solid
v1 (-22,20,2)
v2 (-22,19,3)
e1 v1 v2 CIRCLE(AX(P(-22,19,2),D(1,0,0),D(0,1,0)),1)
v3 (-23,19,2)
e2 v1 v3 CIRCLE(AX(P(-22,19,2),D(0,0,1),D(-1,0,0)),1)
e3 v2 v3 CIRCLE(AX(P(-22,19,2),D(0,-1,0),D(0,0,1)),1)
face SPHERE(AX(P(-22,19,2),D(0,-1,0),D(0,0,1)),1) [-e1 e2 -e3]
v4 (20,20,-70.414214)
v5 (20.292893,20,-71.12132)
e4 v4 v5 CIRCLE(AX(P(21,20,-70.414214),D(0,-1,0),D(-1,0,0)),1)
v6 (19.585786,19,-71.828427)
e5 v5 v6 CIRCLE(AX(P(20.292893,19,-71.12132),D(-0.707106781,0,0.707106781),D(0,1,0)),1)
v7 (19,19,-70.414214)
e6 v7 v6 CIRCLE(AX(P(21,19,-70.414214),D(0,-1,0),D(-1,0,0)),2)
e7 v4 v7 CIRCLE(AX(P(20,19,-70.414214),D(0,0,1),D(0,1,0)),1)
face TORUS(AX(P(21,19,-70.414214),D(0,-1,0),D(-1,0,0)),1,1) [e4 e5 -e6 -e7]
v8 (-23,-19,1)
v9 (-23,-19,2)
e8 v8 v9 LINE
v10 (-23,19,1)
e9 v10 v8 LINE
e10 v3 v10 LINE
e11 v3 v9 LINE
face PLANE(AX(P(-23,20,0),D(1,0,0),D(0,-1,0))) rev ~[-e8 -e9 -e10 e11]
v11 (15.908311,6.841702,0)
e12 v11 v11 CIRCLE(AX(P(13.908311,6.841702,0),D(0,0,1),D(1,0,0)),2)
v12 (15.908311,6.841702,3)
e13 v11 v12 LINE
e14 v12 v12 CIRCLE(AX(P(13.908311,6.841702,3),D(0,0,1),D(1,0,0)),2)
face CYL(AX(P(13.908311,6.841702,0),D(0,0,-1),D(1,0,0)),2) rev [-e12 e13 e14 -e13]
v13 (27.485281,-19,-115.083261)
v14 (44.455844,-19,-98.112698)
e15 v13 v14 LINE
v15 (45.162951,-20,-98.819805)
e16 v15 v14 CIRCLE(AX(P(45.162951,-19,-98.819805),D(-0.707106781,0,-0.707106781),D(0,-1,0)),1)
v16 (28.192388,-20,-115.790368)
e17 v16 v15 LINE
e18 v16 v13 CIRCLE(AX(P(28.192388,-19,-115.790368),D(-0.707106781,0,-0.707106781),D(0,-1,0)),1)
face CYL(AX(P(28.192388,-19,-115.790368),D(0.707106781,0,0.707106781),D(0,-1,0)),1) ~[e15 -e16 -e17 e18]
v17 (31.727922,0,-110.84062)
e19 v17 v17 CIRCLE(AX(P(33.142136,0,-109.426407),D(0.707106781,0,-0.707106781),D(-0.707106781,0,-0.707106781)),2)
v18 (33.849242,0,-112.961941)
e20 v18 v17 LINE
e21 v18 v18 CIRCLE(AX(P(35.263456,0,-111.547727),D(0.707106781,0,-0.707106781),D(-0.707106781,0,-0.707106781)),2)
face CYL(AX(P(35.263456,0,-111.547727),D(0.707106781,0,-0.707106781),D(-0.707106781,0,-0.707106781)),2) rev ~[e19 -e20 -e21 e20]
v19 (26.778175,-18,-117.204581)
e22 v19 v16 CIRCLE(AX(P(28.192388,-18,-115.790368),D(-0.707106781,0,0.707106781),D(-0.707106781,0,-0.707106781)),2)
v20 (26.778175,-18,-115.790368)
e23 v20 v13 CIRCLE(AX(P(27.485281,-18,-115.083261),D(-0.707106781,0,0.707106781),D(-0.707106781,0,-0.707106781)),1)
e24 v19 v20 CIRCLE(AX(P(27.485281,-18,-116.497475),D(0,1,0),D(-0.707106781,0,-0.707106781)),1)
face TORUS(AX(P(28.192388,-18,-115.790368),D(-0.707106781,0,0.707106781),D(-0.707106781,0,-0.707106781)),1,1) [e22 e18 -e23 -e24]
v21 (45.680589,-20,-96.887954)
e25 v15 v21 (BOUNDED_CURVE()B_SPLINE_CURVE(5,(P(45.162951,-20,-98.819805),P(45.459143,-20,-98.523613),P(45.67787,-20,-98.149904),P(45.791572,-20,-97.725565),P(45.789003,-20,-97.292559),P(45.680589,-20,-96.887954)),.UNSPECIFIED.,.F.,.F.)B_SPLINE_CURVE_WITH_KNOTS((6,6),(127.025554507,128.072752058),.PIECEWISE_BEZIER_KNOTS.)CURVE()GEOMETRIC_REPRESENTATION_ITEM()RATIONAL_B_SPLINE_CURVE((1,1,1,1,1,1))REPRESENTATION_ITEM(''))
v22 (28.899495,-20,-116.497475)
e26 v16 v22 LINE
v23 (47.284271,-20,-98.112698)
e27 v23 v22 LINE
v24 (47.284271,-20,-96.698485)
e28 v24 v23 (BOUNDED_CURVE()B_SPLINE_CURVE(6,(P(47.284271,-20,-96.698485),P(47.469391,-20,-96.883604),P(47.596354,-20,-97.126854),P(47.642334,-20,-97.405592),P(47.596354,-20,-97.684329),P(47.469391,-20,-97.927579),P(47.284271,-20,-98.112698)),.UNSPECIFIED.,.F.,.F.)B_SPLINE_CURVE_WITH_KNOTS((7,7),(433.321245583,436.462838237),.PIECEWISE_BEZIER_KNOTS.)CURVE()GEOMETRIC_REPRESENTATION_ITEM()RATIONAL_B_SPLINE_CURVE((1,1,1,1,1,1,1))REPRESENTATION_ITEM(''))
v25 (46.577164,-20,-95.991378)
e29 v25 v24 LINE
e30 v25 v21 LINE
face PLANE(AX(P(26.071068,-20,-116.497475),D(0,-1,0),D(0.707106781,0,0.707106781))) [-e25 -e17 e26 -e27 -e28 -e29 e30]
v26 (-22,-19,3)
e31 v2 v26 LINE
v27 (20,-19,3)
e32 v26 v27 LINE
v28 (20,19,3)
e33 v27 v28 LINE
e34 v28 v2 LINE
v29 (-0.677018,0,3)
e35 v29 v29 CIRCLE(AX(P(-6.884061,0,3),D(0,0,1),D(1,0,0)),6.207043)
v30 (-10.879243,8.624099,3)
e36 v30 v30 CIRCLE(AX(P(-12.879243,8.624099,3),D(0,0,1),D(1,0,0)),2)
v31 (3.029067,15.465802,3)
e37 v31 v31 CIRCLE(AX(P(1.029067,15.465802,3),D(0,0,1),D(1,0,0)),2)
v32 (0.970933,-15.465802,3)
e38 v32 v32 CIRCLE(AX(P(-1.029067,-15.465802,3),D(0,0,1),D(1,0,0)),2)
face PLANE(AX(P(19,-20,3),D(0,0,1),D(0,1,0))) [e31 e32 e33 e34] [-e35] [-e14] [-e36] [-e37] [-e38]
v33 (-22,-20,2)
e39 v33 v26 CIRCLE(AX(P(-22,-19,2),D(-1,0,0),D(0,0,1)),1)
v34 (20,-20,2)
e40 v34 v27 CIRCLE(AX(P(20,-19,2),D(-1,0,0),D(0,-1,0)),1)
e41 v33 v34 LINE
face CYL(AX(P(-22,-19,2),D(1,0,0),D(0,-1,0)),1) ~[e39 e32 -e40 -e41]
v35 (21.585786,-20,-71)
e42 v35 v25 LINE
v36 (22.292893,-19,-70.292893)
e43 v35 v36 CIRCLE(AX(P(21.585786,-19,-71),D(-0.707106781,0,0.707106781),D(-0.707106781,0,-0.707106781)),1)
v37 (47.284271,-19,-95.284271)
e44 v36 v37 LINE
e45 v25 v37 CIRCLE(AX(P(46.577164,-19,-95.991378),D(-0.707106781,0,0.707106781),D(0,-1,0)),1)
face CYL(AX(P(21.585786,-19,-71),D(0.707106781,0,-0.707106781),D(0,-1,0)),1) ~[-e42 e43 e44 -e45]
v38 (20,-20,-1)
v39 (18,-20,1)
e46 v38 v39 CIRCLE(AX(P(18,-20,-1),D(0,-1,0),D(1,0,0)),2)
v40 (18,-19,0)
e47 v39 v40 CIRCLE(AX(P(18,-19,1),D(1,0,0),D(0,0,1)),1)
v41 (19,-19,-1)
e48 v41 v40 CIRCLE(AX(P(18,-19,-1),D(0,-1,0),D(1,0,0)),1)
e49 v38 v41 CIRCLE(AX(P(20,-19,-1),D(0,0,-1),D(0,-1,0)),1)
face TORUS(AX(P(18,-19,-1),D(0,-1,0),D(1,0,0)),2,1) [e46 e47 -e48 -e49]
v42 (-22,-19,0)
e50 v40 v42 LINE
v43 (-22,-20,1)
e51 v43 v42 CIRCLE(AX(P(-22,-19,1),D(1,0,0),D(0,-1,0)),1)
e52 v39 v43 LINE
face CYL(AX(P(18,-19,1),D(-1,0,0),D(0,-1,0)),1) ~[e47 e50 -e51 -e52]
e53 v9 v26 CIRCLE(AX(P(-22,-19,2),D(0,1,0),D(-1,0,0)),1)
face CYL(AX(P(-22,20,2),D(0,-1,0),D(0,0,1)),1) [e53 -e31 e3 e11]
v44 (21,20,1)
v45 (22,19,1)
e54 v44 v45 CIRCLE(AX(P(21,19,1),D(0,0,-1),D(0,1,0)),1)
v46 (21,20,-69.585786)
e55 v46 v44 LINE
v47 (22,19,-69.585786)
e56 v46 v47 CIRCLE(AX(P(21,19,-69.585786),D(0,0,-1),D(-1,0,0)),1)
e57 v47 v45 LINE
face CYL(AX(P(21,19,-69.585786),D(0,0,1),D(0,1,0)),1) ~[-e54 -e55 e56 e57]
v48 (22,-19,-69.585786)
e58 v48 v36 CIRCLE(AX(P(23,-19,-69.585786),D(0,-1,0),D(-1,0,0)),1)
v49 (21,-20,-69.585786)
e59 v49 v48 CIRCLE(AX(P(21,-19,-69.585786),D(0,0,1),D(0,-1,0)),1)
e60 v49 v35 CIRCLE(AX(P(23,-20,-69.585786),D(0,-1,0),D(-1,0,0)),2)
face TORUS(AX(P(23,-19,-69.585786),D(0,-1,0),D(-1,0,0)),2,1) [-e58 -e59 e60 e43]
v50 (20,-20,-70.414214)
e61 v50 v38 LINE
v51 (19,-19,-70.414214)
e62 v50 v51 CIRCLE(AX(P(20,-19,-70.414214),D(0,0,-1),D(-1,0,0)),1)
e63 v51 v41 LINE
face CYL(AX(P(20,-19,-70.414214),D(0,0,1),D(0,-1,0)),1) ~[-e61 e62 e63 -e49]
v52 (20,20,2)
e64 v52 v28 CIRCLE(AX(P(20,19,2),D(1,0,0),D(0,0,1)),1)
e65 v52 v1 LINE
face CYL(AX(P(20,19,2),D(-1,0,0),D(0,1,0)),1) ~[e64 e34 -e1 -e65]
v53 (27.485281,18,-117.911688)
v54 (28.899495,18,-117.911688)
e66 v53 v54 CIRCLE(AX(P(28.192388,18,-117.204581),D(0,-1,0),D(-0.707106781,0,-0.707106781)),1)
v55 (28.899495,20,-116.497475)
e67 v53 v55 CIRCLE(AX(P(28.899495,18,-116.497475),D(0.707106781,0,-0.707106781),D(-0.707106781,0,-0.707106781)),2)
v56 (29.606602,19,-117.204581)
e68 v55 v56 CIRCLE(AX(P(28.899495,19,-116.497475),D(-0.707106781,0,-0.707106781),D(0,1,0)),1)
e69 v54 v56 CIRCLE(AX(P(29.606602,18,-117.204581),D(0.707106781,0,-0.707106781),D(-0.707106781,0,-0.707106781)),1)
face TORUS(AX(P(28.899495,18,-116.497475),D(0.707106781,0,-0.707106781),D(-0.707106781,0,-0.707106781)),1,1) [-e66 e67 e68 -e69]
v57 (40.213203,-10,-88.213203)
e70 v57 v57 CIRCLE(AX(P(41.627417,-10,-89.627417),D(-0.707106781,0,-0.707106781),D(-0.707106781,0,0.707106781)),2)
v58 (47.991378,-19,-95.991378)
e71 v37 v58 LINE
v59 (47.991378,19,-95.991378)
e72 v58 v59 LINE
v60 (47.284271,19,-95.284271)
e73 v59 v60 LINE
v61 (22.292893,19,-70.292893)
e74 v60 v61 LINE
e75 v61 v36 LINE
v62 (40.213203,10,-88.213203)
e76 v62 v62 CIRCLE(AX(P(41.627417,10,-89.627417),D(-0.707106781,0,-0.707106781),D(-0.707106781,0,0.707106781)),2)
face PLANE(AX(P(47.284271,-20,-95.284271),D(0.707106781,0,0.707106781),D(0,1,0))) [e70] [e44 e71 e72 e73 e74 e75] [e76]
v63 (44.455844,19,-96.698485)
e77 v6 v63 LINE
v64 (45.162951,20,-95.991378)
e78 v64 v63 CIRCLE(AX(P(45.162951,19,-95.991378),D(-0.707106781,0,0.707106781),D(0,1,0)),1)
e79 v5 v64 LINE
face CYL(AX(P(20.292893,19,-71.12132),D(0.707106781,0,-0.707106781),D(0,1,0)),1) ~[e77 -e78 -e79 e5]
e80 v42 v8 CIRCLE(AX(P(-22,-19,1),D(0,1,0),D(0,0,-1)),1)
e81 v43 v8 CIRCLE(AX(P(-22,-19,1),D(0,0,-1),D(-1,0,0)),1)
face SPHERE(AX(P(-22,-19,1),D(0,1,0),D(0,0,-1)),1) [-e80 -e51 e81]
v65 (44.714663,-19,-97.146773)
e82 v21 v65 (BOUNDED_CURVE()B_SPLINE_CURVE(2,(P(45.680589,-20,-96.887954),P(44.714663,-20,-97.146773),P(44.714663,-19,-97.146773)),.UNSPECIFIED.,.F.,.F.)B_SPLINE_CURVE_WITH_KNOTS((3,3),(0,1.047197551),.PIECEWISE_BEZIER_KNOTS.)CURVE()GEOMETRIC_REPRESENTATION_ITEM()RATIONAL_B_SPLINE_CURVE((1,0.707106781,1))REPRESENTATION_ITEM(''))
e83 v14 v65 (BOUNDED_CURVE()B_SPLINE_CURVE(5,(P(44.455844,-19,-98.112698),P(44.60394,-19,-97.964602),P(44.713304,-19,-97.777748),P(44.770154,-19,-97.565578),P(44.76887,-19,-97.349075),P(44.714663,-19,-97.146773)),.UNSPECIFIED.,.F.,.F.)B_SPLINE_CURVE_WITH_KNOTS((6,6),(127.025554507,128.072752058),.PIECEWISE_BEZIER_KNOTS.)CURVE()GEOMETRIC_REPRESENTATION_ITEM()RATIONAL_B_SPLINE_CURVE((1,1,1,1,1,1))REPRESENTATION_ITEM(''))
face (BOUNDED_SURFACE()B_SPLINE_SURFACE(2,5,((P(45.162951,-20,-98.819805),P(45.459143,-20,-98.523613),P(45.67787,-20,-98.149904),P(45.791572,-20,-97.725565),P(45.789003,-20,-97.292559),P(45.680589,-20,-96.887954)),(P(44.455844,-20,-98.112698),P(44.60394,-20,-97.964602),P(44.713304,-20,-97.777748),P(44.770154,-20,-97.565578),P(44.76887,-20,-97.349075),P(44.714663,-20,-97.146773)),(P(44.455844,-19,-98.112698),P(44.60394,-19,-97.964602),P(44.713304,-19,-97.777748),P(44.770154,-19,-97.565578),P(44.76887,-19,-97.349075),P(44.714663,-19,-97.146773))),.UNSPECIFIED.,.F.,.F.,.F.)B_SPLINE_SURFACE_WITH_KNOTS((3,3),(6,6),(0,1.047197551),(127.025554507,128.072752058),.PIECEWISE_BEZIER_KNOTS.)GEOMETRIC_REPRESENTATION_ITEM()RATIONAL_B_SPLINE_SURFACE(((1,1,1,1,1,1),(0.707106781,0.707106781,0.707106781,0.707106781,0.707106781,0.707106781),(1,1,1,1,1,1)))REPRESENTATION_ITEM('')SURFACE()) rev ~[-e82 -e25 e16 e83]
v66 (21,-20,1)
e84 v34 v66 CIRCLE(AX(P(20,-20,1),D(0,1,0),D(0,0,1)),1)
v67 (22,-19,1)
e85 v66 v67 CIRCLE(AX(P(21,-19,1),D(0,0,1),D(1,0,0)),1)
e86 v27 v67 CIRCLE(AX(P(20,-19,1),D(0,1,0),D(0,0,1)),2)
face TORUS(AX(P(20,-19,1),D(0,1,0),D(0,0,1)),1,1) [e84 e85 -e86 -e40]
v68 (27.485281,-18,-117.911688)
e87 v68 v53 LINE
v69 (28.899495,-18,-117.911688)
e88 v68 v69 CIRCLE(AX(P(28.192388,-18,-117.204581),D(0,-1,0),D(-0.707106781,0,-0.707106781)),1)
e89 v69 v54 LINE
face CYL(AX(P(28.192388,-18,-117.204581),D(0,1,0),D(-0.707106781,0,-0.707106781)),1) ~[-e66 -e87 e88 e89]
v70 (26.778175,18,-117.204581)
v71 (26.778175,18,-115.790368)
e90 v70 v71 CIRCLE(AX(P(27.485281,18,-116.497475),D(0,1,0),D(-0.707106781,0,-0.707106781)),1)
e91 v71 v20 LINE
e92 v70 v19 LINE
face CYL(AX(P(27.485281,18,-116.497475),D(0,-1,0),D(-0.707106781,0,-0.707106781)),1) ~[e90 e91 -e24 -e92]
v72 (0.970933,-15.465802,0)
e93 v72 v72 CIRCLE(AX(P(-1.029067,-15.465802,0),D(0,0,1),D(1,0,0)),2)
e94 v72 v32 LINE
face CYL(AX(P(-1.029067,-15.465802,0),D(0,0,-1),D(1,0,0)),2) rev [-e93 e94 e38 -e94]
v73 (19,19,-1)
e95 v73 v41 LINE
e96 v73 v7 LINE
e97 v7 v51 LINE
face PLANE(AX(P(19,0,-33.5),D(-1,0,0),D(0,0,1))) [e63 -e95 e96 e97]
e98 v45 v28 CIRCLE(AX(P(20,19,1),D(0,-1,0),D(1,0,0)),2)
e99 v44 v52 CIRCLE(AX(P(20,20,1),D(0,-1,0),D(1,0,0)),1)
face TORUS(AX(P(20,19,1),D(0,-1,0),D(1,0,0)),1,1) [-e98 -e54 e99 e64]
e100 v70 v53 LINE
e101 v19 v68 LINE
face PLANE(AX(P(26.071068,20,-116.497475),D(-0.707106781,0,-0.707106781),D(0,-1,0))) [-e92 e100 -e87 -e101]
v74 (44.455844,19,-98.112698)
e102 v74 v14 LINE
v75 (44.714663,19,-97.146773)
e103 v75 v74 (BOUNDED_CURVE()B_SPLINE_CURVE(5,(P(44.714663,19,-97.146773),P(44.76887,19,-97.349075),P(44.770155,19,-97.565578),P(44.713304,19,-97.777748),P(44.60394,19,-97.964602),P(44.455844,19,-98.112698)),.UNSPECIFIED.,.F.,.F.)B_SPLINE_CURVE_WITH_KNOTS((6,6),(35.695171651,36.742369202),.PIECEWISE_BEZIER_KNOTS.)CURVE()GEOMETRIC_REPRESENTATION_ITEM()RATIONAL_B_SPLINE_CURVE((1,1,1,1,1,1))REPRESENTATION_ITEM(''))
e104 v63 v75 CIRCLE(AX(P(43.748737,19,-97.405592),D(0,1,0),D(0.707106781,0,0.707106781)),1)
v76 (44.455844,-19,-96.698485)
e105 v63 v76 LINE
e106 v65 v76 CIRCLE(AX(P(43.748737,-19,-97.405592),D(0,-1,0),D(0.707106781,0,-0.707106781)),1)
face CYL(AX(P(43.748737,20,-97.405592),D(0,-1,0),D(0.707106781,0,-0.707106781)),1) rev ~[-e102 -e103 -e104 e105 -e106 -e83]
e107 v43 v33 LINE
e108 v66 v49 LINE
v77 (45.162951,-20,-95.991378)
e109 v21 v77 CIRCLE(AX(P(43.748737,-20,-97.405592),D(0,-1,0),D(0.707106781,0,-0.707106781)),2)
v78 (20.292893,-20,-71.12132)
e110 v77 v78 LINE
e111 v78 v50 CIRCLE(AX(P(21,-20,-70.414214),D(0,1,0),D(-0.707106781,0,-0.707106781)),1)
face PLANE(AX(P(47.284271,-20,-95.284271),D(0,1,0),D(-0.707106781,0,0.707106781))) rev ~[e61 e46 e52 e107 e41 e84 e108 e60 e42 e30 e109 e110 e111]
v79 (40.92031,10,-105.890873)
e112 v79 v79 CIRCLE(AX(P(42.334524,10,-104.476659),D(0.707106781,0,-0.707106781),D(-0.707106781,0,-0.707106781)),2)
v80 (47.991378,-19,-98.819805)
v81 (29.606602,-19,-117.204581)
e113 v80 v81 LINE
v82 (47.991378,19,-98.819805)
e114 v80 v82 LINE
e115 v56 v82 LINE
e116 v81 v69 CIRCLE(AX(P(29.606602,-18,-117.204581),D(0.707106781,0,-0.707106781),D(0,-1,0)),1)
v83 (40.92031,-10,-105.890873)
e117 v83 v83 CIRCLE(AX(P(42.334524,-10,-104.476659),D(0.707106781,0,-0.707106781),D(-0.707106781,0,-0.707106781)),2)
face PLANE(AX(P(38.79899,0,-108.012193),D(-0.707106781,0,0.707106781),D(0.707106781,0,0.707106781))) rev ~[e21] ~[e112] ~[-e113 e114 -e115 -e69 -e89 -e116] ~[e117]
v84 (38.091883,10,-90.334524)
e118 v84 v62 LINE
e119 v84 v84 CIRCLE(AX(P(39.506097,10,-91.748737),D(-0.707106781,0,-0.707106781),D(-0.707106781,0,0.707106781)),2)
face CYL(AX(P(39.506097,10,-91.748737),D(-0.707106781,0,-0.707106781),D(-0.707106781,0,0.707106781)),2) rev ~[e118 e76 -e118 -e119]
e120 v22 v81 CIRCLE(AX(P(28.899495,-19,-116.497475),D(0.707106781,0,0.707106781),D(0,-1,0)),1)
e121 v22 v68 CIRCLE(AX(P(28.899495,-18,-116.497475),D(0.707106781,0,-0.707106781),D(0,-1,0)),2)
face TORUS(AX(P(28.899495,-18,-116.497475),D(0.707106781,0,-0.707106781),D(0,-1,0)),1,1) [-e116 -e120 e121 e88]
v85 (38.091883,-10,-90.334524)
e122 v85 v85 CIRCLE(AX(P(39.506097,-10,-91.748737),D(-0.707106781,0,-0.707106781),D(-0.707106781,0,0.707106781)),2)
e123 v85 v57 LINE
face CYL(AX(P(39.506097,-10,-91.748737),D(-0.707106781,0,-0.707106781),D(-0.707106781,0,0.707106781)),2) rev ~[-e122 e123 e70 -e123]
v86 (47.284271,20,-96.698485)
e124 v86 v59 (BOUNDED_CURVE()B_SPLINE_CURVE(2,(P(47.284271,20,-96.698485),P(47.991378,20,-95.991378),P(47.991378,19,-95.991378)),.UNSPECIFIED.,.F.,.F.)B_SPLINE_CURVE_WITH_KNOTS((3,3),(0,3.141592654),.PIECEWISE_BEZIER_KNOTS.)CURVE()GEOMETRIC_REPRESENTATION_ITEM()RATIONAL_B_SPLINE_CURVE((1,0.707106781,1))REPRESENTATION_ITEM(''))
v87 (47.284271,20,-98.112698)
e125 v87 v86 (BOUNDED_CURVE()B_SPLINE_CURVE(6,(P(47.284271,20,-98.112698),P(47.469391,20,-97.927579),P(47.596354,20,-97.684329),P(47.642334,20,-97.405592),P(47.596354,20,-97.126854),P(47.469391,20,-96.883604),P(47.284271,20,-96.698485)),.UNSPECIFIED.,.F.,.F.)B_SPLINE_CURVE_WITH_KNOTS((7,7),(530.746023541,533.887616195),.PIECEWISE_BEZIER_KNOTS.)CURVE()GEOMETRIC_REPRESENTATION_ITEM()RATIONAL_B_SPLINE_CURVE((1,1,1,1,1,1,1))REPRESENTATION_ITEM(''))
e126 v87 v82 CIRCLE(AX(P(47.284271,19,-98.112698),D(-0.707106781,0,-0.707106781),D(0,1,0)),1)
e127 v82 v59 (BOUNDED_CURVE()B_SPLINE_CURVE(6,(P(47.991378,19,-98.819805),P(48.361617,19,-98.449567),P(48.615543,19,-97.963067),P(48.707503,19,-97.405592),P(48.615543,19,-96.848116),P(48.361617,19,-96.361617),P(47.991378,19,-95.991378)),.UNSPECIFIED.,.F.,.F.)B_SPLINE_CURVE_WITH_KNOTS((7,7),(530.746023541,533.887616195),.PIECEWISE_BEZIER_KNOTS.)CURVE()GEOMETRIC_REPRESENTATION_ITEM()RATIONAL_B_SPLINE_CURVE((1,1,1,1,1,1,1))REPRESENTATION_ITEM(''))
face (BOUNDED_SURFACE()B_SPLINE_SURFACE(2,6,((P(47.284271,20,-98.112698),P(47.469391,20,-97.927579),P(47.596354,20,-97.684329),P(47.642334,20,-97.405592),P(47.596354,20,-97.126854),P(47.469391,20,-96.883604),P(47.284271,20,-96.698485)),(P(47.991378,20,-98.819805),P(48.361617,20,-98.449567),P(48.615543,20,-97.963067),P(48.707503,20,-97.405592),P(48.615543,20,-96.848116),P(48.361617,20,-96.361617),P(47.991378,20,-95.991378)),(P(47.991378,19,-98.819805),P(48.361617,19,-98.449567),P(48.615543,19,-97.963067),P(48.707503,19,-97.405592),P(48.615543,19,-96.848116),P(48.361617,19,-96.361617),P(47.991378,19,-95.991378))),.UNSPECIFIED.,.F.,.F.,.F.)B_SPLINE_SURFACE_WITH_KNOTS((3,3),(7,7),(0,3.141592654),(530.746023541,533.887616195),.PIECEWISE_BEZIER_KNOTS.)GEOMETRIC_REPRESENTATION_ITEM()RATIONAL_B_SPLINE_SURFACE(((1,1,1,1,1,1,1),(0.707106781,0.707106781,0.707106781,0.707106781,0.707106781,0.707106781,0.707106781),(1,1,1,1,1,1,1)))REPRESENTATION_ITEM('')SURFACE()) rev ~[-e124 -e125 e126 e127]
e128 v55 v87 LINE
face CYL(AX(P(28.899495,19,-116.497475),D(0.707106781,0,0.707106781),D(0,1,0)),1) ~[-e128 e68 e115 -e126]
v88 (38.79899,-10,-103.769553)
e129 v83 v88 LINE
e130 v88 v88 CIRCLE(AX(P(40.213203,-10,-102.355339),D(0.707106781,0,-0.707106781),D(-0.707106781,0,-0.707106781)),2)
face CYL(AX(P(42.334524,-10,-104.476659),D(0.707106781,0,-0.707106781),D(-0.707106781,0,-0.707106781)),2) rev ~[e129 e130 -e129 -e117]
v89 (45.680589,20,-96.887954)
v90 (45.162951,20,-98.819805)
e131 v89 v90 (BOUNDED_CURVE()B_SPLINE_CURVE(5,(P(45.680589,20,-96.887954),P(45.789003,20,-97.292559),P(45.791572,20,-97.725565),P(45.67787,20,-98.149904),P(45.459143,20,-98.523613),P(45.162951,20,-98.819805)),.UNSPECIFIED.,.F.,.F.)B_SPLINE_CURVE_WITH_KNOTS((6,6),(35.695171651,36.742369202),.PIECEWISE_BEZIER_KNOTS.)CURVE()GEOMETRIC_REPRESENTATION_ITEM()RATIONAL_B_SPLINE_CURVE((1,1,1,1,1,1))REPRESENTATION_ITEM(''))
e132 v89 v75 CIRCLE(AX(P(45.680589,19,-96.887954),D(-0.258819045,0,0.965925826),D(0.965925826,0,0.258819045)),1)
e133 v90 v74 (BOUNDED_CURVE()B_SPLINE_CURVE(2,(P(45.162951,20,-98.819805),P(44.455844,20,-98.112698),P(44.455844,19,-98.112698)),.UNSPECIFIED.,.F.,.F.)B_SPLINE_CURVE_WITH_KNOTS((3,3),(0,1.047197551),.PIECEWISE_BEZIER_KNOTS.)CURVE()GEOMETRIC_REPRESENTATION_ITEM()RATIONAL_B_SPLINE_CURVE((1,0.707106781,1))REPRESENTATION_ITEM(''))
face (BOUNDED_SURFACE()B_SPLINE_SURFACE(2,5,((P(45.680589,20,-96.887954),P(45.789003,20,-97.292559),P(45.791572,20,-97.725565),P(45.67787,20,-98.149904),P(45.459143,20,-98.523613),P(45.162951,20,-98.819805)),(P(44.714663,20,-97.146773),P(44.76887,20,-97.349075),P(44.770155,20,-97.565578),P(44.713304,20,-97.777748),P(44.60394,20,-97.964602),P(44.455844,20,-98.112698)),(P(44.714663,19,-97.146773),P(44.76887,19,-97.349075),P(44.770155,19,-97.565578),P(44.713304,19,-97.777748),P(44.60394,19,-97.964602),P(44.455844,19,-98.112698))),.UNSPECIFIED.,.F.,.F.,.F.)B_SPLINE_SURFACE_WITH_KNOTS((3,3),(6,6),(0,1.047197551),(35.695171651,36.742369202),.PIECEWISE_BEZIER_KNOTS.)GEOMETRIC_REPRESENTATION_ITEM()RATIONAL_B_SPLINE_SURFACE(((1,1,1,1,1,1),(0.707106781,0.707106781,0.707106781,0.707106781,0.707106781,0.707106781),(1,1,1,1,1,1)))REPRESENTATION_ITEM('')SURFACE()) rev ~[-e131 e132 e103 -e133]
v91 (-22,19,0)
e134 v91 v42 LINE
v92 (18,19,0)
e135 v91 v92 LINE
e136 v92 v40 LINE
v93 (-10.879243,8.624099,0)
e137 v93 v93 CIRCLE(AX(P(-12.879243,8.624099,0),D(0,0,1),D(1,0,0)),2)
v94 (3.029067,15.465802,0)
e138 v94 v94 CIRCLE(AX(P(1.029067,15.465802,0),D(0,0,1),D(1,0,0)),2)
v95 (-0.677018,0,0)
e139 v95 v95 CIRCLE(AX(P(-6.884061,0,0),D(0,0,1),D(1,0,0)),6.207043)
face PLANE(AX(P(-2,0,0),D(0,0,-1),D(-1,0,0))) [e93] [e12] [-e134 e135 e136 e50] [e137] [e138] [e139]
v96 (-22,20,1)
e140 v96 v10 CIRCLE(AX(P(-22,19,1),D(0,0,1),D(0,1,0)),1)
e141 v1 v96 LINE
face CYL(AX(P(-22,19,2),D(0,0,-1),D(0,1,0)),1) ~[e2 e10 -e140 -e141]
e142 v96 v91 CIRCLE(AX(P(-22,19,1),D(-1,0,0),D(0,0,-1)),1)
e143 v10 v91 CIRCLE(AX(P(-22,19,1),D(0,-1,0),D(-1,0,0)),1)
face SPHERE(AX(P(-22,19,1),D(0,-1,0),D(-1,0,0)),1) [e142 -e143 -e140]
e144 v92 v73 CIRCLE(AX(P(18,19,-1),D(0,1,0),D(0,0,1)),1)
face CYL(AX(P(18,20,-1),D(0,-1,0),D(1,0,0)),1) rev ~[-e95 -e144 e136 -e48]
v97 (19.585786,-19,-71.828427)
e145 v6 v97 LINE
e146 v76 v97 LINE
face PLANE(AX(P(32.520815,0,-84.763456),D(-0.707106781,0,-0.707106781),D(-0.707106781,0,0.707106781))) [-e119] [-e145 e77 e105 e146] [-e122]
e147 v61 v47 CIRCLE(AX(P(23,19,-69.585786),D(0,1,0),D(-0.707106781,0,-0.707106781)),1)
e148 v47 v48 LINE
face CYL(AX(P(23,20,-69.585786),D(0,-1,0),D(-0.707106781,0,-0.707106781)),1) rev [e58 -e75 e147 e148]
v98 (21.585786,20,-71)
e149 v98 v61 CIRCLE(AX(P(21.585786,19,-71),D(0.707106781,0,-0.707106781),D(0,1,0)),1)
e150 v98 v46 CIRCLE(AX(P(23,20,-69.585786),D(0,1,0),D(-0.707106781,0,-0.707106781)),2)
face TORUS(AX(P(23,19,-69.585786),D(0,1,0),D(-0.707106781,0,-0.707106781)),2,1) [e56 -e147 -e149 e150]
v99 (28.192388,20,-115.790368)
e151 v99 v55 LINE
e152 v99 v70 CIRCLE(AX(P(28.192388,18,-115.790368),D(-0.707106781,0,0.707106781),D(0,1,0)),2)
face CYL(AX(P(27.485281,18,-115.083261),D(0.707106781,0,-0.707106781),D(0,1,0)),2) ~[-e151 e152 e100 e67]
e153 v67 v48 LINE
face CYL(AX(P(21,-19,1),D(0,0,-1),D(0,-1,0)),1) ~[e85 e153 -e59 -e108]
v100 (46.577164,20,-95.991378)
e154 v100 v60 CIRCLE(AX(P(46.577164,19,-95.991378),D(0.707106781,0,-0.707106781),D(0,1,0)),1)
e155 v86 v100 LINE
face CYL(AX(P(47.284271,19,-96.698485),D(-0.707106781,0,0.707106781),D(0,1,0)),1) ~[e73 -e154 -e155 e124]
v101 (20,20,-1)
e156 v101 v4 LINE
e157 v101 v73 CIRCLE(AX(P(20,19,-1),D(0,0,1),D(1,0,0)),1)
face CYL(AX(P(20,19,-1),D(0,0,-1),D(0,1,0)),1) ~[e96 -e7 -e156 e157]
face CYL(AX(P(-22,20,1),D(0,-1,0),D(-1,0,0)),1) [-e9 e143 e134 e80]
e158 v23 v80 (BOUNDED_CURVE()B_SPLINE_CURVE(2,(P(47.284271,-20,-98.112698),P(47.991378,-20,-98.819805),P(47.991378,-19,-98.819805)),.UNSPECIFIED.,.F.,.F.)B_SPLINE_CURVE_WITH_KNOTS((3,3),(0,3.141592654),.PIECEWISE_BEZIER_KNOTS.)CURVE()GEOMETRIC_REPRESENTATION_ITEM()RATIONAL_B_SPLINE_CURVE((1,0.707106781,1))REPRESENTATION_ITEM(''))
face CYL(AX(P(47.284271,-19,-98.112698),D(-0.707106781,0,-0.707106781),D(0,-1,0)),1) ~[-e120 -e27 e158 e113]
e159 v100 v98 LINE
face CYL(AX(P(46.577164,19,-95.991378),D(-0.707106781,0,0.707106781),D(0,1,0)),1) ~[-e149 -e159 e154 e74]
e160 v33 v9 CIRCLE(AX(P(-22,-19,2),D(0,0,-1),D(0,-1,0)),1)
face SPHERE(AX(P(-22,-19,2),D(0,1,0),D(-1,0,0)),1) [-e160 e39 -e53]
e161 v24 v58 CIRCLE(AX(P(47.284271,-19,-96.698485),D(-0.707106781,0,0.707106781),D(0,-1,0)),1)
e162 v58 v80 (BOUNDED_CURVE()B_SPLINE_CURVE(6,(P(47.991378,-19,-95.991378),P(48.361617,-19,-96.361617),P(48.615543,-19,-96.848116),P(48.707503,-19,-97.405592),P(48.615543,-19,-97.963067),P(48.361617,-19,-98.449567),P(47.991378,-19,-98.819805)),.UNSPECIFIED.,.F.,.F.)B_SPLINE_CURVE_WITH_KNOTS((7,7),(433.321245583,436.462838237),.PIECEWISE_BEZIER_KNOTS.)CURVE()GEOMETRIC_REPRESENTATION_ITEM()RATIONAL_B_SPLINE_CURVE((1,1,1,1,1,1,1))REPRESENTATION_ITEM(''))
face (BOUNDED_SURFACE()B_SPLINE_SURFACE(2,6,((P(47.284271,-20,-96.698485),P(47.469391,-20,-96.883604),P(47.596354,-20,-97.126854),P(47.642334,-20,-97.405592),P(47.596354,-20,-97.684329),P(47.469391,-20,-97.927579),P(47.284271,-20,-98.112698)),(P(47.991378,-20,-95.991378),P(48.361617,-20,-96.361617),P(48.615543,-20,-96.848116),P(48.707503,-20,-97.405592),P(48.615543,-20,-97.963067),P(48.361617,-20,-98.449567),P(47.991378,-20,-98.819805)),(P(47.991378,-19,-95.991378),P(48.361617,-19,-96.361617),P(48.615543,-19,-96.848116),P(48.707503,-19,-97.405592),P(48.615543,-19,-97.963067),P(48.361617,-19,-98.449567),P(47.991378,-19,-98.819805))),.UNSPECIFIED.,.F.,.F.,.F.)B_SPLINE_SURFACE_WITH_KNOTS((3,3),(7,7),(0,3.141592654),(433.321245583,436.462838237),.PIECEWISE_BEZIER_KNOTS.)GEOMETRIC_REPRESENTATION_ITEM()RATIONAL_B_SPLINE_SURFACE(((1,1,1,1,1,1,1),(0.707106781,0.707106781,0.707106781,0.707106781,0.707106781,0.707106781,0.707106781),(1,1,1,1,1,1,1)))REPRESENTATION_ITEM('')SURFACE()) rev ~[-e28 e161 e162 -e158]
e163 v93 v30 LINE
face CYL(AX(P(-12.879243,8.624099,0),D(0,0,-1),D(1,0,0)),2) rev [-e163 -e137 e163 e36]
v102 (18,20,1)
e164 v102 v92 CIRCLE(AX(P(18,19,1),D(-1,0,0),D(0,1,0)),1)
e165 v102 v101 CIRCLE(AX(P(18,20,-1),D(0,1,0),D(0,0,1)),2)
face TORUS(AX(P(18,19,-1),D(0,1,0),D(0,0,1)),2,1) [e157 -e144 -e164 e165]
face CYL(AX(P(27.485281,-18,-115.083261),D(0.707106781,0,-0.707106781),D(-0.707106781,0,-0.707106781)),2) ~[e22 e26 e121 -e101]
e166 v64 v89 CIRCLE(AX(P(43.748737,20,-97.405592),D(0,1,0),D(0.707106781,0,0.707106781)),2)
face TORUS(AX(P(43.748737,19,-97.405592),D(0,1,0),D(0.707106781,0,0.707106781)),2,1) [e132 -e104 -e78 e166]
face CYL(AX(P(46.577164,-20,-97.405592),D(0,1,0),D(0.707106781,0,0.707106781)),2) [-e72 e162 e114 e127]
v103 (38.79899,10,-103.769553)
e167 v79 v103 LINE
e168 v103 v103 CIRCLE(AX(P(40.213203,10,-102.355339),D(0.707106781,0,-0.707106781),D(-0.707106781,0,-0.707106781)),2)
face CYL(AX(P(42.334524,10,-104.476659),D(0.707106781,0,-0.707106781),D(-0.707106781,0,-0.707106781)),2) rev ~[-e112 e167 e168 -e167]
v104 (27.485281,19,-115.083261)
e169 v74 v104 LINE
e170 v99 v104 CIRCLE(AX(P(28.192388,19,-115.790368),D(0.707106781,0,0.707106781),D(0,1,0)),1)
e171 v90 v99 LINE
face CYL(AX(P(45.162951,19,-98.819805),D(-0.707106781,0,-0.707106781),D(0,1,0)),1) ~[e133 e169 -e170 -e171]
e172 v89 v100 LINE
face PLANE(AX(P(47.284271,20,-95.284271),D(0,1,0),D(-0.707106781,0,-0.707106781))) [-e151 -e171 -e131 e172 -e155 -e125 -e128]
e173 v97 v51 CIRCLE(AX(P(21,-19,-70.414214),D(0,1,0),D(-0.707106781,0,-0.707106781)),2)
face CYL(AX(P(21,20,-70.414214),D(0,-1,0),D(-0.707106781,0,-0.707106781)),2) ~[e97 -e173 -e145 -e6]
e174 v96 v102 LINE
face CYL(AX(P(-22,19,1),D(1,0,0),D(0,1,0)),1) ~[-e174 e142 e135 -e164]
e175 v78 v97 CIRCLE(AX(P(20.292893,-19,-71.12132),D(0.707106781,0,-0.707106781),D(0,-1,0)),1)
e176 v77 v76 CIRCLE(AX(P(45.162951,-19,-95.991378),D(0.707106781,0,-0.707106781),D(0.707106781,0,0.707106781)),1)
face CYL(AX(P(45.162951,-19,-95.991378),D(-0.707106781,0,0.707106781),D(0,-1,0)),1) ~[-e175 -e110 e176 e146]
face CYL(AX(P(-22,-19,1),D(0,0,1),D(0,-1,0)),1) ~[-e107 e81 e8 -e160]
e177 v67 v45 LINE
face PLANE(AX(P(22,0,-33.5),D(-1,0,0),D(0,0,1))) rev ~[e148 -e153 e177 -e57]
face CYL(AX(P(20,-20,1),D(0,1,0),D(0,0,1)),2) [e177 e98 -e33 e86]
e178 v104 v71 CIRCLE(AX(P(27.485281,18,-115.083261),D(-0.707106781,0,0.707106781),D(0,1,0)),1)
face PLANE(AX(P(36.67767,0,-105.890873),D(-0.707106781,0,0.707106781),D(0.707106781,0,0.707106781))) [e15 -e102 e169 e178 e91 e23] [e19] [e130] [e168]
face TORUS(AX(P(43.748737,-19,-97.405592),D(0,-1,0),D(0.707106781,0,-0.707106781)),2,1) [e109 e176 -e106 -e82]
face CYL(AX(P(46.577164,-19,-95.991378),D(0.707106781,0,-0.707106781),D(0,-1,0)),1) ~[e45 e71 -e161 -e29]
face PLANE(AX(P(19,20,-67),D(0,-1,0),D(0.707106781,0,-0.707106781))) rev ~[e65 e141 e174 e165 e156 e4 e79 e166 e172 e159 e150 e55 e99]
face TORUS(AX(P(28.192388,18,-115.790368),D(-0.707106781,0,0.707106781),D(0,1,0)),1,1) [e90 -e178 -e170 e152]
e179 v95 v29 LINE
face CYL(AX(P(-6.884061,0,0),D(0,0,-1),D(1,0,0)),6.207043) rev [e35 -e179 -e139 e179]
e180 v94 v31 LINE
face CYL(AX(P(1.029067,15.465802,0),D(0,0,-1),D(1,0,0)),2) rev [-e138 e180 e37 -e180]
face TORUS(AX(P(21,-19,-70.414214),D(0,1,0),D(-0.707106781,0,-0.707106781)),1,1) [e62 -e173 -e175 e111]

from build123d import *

# Parameters (mm, degrees)
FIXEDMOTOR_R        = 6.207042780583919
FIXEDMOTOR_R_2      = 2.0000000000000004
FIXEDMOTOR_R_3      = 2
FIXEDMOTOR_R_4      = 1.9999999999999996
FIXEDMOTOR_R_5      = 2.0000000000000013
BOSS_EXTRUDE1_DEPTH = 3
BOSS_EXTRUDE2_DEPTH = 3
FILLET2_R           = 1
FILLET3_R           = 2
FILLET4_R           = 1
FILLET5_R           = 1
CUT_EXTRUDE1_DEPTH  = 40
BOSS_EXTRUDE3_DEPTH = 3
CUT_EXTRUDE2_DEPTH  = 40
FILLET6_R           = 2
FILLET7_R           = 1
BOSS_EXTRUDE4_DEPTH = 3
FILLET8_R           = 2
FILLET9_R           = 1
SKETCH9_R           = 2.000000000000003
SKETCH9_R_2         = 2.0000000000000027
CUT_EXTRUDE3_DEPTH  = 3
FILLET10_R          = 2
FILLET11_R          = 2
FILLET15_R          = 1
SKETCH11_R          = 1.9999999999999962
CUT_EXTRUDE4_DEPTH  = 3


with BuildPart() as part:
    # FixedMotor → Boss-Extrude1 (new body)
    with BuildSketch(Plane.XY):
        Polygon((19.000000000955392, 19.999999999092385), (18.99999999904462, -20.000000000907605), (-23.000000000955385, -19.999999998901302), (-23, 1.09869677e-09), (-22.99999999904461, 20.000000001098698), align=None)
        with Locations((-6.884060715651985, 3.2884703e-10)):
            Circle(FIXEDMOTOR_R, mode=Mode.SUBTRACT)
        with Locations((-1.0290674932644954, -15.465801631157241)):
            Circle(FIXEDMOTOR_R_2, mode=Mode.SUBTRACT)
        with Locations((-12.879243355840744, 8.624099406954452)):
            Circle(FIXEDMOTOR_R_3, mode=Mode.SUBTRACT)
        with Locations((13.908310849105225, 6.841702224202803)):
            Circle(FIXEDMOTOR_R_4, mode=Mode.SUBTRACT)
        with Locations((1.0290674932644954, 15.465801631157241)):
            Circle(FIXEDMOTOR_R_5, mode=Mode.SUBTRACT)
    extrude(amount=BOSS_EXTRUDE1_DEPTH)

    # Sketch2 → Boss-Extrude2 (add)
    with BuildSketch(Plane(origin=(19.000000000000007, -9.0761747e-10, 0), x_dir=(0, 0, -1), z_dir=(1.0, -4.776925383032094e-11, 0))):
        Polygon((0, 20), (70, 20), (70, -19.999999999999993), (0, -19.99999999999999), (-3, -19.99999999999999), (-3, 20), align=None)
    extrude(amount=BOSS_EXTRUDE2_DEPTH)

    # Fillet2
    fillet2_edges = [part.edges().sort_by_distance(p)[0] for p in [
        (19.000000000000007, -9.0760821e-10, 0),
    ]]
    fillet(fillet2_edges, radius=FILLET2_R)

    # Fillet3
    fillet3_edges = [part.edges().sort_by_distance(p)[0] for p in [
        (22.000000000000007, -1.05092168e-09, 3),
    ]]
    fillet(fillet3_edges, radius=FILLET3_R)

    # Fillet4
    fillet4_edges = [part.edges().sort_by_distance(p)[0] for p in [
        (-23, 1.09869802e-09, 3),
    ]]
    fillet(fillet4_edges, radius=FILLET4_R)

    # Fillet5
    fillet5_edges = [part.edges().sort_by_distance(p)[0] for p in [
        (-23, 1.09869802e-09, 0),
    ]]
    fillet(fillet5_edges, radius=FILLET5_R)

    # Sketch5 → Cut-Extrude1 (cut)
    with BuildSketch(Plane.XZ.offset(19.999999999999993)):
        Polygon((22.000000000000004, -70), (19.000000000000004, -67), (19.000000000000004, -70), align=None)
    extrude(amount=-CUT_EXTRUDE1_DEPTH, mode=Mode.SUBTRACT)

    # Sketch6 → Boss-Extrude3 (add)
    with BuildSketch(Plane(origin=(-23.99999999999999, 1.14645595e-09, -23.999999999999964), x_dir=(-0.7071067811865471, 3.377778224099027e-11, 0.7071067811865479), z_dir=(-0.7071067811865479, 3.3777782240990306e-11, -0.7071067811865471))):
        Polygon((-65.05382386916239, -19.999999999999993), (-65.05382386916239, 20.000000000000007), (-100.8111831820431, 20.000000000000007), (-100.8111831820431, -20.000000000000004), align=None)
        Polygon((-65.05382386916239, 20.00000000000001), (-65.05382386916239, -19.99999999999999), (-60.81118318204311, -20), (-60.81118318204311, 20.000000000000007), align=None)
    extrude(amount=BOSS_EXTRUDE3_DEPTH)

    # Sketch7 → Cut-Extrude2 (cut)
    with BuildSketch(Plane(origin=(9.5538656e-10, 20.000000000000004, 0), x_dir=(1.0, -4.776932817561277e-11, 0), z_dir=(4.776932817561277e-11, 1.0, 0))):
        Polygon((18.999999999999996, 67), (18.999999999999996, 71.2426406871193), (16.878679656440344, 69.12132034355965), align=None)
    extrude(amount=-CUT_EXTRUDE2_DEPTH, mode=Mode.SUBTRACT)

    # Fillet6
    fillet6_edges = [part.edges().sort_by_distance(p)[0] for p in [
        (18.999999999999996, -9.0761532e-10, -71.2426406871193),
    ]]
    fillet(fillet6_edges, radius=FILLET6_R)

    # Fillet7
    fillet7_edges = [part.edges().sort_by_distance(p)[0] for p in [
        (22.000000000000007, -1.05092168e-09, -70),
    ]]
    fillet(fillet7_edges, radius=FILLET7_R)

    # Sketch8 → Boss-Extrude4 (add)
    with BuildSketch(Plane(origin=(71.28427124746187, -3.40515935e-09, -71.28427124746194), x_dir=(-0.7071067811865479, -3.3777595325221335e-11, -0.7071067811865471), z_dir=(0.7071067811865471, -3.377759532522137e-11, -0.7071067811865479))):
        Polygon((33.94112549560315, 20.0000000022929), (63.94112549560316, 20.0000000022929), (63.94112549560316, -19.99999999770711), (33.94112549830536, -19.99999999770711), align=None)
    extrude(amount=BOSS_EXTRUDE4_DEPTH)

    # Fillet8
    fillet8_edges = [part.edges().sort_by_distance(p)[0] for p in [
        (49.40559159102152, -2.3600452e-09, -97.40559159102156),
    ]]
    fillet(fillet8_edges, radius=FILLET8_R)

    # Fillet9
    fillet9_edges = [part.edges().sort_by_distance(p)[0] for p in [
        (45.16295090390224, -2.15738535e-09, -97.40559159102155),
    ]]
    fillet(fillet9_edges, radius=FILLET9_R)

    # Sketch9 → Cut-Extrude3 (cut)
    with BuildSketch(Plane(origin=(73.40559159102153, -3.50649214e-09, -73.4055915910216), x_dir=(-0.7071067811865479, -3.3777840652168006e-11, -0.7071067811865472), z_dir=(0.7071067811865472, -3.377784065216806e-11, -0.7071067811865479))):
        with Locations((53.94112549560317, 0)):
            Circle(SKETCH9_R)
        with Locations((43.94112549560317, 10)):
            Circle(SKETCH9_R_2)
        with Locations((43.94112549560317, -10)):
            Circle(SKETCH9_R_2)
    extrude(amount=-CUT_EXTRUDE3_DEPTH, mode=Mode.SUBTRACT)

    # Fillet10
    fillet10_edges = [part.edges().sort_by_distance(p)[0] for p in [
        (27.131727984600627, 19.9999999966773, -117.55813485483814),
    ]]
    fillet(fillet10_edges, radius=FILLET10_R)

    # Fillet11
    fillet11_edges = [part.edges().sort_by_distance(p)[0] for p in [
        (27.131727984600627, -20.00000000332271, -117.55813485292741),
    ]]
    fillet(fillet11_edges, radius=FILLET11_R)

    # Fillet15
    fillet15_edges = [part.edges().sort_by_distance(p)[0] for p in [
        (32.02081528112668, 19.999999998470404, -84.2634559672906),
        (32.02081527921592, -20.000000001529603, -84.2634559672906),
        (19.00000000095539, 19.99999999909238, -35.70710678118655),
        (19.15224093593281, 19.999999999085112, -71.17958042710328),
        (19.152240934022036, -20.000000000914874, -71.17958042710328),
        (22.000000000955392, 19.999999998949075, -34.292893218813454),
        (34.78858223218229, -20.000000001661814, -82.78858223313767),
        (34.788582234093056, 19.999999998338193, -82.78858223313767),
        (22.076120468444106, 19.99999999894544, -69.96846986999199),
        (22.076120466533336, -20.00000000105455, -69.968469869992),
        (38.79898987322329, -20.000000002866717, -108.01219330786441),
        (48.57716446531997, -20.00000000245559, -97.40559159102156),
        (48.577164467230716, 19.999999997544418, -97.40559159102156),
        (35.9705627484771, -20.000000002799162, -106.5979797454913),
        (44.74873734248451, 19.999999997862385, -97.40559159102156),
        (44.74873734057375, -20.0000000021376, -97.40559159102156),
        (38.79898987417868, 19.999999997133294, -108.01219330881977),
        (35.970562749432474, 19.99999999720085, -106.59797974644667),
        (26.485281375193907, 19.414213559120846, -116.08326112065726),
        (28.60660171875356, 19.414213559019515, -118.20458146421691),
        (26.071067812820807, -3.27204382e-09, -116.49747468210296),
        (28.192388156380453, -3.37337661e-09, -118.6187950256626),
        (26.485281375193892, -19.41421356562536, -116.08326111880247),
        (28.606601718753545, -19.41421356572669, -118.20458146236213),
        (18.999999999044615, -20.00000000090761, -35.70710678118655),
        (18.707106780231165, -20.000000000893618, -0.2928932188134521),
        (18.70710678214194, 19.999999999106375, -0.2928932188134509),
        (21.999999999044622, -20.000000001050918, -34.292893218813454),
        (21.414213561417718, -20.00000000102293, 2.414213562373094),
        (21.414213563328484, 19.999999998977056, 2.4142135623730967),
        (-23.000000000955385, -19.999999998901302, 1.5),
        (-22.99999999904461, 20.000000001098698, 1.5),
        (-0.9999999990446042, 20.00000000004777, 3),
        (-22.707106780231157, 20.000000001084707, 2.7071067811865466),
        (-1.0000000009553816, -19.999999999952223, 3),
        (-22.707106782141928, -19.999999998915293, 2.707106781186548),
        (-1.9999999990446113, 20.00000000009554, 0),
        (-2.000000000955385, -19.999999999904453, 0),
        (-22.707106780231157, 20.000000001084707, 0.2928932188134523),
        (-22.707106782141935, -19.999999998915293, 0.29289321881345365),
    ]]
    fillet(fillet15_edges, radius=FILLET15_R)

    # Sketch11 → Cut-Extrude4 (cut)
    with BuildSketch(Plane(origin=(-26.121320343559653, 1.24778636e-09, -26.121320343559624), x_dir=(-0.7071067811865472, 3.377767510137627e-11, 0.7071067811865478), z_dir=(-0.7071067811865478, 3.37776751013763e-11, -0.7071067811865472))):
        with Locations((-92.81118318204305, 10)):
            Circle(SKETCH11_R)
        with Locations((-92.81118318204305, -10)):
            Circle(SKETCH11_R)
    extrude(amount=-CUT_EXTRUDE4_DEPTH, mode=Mode.SUBTRACT)


solid = part.part
